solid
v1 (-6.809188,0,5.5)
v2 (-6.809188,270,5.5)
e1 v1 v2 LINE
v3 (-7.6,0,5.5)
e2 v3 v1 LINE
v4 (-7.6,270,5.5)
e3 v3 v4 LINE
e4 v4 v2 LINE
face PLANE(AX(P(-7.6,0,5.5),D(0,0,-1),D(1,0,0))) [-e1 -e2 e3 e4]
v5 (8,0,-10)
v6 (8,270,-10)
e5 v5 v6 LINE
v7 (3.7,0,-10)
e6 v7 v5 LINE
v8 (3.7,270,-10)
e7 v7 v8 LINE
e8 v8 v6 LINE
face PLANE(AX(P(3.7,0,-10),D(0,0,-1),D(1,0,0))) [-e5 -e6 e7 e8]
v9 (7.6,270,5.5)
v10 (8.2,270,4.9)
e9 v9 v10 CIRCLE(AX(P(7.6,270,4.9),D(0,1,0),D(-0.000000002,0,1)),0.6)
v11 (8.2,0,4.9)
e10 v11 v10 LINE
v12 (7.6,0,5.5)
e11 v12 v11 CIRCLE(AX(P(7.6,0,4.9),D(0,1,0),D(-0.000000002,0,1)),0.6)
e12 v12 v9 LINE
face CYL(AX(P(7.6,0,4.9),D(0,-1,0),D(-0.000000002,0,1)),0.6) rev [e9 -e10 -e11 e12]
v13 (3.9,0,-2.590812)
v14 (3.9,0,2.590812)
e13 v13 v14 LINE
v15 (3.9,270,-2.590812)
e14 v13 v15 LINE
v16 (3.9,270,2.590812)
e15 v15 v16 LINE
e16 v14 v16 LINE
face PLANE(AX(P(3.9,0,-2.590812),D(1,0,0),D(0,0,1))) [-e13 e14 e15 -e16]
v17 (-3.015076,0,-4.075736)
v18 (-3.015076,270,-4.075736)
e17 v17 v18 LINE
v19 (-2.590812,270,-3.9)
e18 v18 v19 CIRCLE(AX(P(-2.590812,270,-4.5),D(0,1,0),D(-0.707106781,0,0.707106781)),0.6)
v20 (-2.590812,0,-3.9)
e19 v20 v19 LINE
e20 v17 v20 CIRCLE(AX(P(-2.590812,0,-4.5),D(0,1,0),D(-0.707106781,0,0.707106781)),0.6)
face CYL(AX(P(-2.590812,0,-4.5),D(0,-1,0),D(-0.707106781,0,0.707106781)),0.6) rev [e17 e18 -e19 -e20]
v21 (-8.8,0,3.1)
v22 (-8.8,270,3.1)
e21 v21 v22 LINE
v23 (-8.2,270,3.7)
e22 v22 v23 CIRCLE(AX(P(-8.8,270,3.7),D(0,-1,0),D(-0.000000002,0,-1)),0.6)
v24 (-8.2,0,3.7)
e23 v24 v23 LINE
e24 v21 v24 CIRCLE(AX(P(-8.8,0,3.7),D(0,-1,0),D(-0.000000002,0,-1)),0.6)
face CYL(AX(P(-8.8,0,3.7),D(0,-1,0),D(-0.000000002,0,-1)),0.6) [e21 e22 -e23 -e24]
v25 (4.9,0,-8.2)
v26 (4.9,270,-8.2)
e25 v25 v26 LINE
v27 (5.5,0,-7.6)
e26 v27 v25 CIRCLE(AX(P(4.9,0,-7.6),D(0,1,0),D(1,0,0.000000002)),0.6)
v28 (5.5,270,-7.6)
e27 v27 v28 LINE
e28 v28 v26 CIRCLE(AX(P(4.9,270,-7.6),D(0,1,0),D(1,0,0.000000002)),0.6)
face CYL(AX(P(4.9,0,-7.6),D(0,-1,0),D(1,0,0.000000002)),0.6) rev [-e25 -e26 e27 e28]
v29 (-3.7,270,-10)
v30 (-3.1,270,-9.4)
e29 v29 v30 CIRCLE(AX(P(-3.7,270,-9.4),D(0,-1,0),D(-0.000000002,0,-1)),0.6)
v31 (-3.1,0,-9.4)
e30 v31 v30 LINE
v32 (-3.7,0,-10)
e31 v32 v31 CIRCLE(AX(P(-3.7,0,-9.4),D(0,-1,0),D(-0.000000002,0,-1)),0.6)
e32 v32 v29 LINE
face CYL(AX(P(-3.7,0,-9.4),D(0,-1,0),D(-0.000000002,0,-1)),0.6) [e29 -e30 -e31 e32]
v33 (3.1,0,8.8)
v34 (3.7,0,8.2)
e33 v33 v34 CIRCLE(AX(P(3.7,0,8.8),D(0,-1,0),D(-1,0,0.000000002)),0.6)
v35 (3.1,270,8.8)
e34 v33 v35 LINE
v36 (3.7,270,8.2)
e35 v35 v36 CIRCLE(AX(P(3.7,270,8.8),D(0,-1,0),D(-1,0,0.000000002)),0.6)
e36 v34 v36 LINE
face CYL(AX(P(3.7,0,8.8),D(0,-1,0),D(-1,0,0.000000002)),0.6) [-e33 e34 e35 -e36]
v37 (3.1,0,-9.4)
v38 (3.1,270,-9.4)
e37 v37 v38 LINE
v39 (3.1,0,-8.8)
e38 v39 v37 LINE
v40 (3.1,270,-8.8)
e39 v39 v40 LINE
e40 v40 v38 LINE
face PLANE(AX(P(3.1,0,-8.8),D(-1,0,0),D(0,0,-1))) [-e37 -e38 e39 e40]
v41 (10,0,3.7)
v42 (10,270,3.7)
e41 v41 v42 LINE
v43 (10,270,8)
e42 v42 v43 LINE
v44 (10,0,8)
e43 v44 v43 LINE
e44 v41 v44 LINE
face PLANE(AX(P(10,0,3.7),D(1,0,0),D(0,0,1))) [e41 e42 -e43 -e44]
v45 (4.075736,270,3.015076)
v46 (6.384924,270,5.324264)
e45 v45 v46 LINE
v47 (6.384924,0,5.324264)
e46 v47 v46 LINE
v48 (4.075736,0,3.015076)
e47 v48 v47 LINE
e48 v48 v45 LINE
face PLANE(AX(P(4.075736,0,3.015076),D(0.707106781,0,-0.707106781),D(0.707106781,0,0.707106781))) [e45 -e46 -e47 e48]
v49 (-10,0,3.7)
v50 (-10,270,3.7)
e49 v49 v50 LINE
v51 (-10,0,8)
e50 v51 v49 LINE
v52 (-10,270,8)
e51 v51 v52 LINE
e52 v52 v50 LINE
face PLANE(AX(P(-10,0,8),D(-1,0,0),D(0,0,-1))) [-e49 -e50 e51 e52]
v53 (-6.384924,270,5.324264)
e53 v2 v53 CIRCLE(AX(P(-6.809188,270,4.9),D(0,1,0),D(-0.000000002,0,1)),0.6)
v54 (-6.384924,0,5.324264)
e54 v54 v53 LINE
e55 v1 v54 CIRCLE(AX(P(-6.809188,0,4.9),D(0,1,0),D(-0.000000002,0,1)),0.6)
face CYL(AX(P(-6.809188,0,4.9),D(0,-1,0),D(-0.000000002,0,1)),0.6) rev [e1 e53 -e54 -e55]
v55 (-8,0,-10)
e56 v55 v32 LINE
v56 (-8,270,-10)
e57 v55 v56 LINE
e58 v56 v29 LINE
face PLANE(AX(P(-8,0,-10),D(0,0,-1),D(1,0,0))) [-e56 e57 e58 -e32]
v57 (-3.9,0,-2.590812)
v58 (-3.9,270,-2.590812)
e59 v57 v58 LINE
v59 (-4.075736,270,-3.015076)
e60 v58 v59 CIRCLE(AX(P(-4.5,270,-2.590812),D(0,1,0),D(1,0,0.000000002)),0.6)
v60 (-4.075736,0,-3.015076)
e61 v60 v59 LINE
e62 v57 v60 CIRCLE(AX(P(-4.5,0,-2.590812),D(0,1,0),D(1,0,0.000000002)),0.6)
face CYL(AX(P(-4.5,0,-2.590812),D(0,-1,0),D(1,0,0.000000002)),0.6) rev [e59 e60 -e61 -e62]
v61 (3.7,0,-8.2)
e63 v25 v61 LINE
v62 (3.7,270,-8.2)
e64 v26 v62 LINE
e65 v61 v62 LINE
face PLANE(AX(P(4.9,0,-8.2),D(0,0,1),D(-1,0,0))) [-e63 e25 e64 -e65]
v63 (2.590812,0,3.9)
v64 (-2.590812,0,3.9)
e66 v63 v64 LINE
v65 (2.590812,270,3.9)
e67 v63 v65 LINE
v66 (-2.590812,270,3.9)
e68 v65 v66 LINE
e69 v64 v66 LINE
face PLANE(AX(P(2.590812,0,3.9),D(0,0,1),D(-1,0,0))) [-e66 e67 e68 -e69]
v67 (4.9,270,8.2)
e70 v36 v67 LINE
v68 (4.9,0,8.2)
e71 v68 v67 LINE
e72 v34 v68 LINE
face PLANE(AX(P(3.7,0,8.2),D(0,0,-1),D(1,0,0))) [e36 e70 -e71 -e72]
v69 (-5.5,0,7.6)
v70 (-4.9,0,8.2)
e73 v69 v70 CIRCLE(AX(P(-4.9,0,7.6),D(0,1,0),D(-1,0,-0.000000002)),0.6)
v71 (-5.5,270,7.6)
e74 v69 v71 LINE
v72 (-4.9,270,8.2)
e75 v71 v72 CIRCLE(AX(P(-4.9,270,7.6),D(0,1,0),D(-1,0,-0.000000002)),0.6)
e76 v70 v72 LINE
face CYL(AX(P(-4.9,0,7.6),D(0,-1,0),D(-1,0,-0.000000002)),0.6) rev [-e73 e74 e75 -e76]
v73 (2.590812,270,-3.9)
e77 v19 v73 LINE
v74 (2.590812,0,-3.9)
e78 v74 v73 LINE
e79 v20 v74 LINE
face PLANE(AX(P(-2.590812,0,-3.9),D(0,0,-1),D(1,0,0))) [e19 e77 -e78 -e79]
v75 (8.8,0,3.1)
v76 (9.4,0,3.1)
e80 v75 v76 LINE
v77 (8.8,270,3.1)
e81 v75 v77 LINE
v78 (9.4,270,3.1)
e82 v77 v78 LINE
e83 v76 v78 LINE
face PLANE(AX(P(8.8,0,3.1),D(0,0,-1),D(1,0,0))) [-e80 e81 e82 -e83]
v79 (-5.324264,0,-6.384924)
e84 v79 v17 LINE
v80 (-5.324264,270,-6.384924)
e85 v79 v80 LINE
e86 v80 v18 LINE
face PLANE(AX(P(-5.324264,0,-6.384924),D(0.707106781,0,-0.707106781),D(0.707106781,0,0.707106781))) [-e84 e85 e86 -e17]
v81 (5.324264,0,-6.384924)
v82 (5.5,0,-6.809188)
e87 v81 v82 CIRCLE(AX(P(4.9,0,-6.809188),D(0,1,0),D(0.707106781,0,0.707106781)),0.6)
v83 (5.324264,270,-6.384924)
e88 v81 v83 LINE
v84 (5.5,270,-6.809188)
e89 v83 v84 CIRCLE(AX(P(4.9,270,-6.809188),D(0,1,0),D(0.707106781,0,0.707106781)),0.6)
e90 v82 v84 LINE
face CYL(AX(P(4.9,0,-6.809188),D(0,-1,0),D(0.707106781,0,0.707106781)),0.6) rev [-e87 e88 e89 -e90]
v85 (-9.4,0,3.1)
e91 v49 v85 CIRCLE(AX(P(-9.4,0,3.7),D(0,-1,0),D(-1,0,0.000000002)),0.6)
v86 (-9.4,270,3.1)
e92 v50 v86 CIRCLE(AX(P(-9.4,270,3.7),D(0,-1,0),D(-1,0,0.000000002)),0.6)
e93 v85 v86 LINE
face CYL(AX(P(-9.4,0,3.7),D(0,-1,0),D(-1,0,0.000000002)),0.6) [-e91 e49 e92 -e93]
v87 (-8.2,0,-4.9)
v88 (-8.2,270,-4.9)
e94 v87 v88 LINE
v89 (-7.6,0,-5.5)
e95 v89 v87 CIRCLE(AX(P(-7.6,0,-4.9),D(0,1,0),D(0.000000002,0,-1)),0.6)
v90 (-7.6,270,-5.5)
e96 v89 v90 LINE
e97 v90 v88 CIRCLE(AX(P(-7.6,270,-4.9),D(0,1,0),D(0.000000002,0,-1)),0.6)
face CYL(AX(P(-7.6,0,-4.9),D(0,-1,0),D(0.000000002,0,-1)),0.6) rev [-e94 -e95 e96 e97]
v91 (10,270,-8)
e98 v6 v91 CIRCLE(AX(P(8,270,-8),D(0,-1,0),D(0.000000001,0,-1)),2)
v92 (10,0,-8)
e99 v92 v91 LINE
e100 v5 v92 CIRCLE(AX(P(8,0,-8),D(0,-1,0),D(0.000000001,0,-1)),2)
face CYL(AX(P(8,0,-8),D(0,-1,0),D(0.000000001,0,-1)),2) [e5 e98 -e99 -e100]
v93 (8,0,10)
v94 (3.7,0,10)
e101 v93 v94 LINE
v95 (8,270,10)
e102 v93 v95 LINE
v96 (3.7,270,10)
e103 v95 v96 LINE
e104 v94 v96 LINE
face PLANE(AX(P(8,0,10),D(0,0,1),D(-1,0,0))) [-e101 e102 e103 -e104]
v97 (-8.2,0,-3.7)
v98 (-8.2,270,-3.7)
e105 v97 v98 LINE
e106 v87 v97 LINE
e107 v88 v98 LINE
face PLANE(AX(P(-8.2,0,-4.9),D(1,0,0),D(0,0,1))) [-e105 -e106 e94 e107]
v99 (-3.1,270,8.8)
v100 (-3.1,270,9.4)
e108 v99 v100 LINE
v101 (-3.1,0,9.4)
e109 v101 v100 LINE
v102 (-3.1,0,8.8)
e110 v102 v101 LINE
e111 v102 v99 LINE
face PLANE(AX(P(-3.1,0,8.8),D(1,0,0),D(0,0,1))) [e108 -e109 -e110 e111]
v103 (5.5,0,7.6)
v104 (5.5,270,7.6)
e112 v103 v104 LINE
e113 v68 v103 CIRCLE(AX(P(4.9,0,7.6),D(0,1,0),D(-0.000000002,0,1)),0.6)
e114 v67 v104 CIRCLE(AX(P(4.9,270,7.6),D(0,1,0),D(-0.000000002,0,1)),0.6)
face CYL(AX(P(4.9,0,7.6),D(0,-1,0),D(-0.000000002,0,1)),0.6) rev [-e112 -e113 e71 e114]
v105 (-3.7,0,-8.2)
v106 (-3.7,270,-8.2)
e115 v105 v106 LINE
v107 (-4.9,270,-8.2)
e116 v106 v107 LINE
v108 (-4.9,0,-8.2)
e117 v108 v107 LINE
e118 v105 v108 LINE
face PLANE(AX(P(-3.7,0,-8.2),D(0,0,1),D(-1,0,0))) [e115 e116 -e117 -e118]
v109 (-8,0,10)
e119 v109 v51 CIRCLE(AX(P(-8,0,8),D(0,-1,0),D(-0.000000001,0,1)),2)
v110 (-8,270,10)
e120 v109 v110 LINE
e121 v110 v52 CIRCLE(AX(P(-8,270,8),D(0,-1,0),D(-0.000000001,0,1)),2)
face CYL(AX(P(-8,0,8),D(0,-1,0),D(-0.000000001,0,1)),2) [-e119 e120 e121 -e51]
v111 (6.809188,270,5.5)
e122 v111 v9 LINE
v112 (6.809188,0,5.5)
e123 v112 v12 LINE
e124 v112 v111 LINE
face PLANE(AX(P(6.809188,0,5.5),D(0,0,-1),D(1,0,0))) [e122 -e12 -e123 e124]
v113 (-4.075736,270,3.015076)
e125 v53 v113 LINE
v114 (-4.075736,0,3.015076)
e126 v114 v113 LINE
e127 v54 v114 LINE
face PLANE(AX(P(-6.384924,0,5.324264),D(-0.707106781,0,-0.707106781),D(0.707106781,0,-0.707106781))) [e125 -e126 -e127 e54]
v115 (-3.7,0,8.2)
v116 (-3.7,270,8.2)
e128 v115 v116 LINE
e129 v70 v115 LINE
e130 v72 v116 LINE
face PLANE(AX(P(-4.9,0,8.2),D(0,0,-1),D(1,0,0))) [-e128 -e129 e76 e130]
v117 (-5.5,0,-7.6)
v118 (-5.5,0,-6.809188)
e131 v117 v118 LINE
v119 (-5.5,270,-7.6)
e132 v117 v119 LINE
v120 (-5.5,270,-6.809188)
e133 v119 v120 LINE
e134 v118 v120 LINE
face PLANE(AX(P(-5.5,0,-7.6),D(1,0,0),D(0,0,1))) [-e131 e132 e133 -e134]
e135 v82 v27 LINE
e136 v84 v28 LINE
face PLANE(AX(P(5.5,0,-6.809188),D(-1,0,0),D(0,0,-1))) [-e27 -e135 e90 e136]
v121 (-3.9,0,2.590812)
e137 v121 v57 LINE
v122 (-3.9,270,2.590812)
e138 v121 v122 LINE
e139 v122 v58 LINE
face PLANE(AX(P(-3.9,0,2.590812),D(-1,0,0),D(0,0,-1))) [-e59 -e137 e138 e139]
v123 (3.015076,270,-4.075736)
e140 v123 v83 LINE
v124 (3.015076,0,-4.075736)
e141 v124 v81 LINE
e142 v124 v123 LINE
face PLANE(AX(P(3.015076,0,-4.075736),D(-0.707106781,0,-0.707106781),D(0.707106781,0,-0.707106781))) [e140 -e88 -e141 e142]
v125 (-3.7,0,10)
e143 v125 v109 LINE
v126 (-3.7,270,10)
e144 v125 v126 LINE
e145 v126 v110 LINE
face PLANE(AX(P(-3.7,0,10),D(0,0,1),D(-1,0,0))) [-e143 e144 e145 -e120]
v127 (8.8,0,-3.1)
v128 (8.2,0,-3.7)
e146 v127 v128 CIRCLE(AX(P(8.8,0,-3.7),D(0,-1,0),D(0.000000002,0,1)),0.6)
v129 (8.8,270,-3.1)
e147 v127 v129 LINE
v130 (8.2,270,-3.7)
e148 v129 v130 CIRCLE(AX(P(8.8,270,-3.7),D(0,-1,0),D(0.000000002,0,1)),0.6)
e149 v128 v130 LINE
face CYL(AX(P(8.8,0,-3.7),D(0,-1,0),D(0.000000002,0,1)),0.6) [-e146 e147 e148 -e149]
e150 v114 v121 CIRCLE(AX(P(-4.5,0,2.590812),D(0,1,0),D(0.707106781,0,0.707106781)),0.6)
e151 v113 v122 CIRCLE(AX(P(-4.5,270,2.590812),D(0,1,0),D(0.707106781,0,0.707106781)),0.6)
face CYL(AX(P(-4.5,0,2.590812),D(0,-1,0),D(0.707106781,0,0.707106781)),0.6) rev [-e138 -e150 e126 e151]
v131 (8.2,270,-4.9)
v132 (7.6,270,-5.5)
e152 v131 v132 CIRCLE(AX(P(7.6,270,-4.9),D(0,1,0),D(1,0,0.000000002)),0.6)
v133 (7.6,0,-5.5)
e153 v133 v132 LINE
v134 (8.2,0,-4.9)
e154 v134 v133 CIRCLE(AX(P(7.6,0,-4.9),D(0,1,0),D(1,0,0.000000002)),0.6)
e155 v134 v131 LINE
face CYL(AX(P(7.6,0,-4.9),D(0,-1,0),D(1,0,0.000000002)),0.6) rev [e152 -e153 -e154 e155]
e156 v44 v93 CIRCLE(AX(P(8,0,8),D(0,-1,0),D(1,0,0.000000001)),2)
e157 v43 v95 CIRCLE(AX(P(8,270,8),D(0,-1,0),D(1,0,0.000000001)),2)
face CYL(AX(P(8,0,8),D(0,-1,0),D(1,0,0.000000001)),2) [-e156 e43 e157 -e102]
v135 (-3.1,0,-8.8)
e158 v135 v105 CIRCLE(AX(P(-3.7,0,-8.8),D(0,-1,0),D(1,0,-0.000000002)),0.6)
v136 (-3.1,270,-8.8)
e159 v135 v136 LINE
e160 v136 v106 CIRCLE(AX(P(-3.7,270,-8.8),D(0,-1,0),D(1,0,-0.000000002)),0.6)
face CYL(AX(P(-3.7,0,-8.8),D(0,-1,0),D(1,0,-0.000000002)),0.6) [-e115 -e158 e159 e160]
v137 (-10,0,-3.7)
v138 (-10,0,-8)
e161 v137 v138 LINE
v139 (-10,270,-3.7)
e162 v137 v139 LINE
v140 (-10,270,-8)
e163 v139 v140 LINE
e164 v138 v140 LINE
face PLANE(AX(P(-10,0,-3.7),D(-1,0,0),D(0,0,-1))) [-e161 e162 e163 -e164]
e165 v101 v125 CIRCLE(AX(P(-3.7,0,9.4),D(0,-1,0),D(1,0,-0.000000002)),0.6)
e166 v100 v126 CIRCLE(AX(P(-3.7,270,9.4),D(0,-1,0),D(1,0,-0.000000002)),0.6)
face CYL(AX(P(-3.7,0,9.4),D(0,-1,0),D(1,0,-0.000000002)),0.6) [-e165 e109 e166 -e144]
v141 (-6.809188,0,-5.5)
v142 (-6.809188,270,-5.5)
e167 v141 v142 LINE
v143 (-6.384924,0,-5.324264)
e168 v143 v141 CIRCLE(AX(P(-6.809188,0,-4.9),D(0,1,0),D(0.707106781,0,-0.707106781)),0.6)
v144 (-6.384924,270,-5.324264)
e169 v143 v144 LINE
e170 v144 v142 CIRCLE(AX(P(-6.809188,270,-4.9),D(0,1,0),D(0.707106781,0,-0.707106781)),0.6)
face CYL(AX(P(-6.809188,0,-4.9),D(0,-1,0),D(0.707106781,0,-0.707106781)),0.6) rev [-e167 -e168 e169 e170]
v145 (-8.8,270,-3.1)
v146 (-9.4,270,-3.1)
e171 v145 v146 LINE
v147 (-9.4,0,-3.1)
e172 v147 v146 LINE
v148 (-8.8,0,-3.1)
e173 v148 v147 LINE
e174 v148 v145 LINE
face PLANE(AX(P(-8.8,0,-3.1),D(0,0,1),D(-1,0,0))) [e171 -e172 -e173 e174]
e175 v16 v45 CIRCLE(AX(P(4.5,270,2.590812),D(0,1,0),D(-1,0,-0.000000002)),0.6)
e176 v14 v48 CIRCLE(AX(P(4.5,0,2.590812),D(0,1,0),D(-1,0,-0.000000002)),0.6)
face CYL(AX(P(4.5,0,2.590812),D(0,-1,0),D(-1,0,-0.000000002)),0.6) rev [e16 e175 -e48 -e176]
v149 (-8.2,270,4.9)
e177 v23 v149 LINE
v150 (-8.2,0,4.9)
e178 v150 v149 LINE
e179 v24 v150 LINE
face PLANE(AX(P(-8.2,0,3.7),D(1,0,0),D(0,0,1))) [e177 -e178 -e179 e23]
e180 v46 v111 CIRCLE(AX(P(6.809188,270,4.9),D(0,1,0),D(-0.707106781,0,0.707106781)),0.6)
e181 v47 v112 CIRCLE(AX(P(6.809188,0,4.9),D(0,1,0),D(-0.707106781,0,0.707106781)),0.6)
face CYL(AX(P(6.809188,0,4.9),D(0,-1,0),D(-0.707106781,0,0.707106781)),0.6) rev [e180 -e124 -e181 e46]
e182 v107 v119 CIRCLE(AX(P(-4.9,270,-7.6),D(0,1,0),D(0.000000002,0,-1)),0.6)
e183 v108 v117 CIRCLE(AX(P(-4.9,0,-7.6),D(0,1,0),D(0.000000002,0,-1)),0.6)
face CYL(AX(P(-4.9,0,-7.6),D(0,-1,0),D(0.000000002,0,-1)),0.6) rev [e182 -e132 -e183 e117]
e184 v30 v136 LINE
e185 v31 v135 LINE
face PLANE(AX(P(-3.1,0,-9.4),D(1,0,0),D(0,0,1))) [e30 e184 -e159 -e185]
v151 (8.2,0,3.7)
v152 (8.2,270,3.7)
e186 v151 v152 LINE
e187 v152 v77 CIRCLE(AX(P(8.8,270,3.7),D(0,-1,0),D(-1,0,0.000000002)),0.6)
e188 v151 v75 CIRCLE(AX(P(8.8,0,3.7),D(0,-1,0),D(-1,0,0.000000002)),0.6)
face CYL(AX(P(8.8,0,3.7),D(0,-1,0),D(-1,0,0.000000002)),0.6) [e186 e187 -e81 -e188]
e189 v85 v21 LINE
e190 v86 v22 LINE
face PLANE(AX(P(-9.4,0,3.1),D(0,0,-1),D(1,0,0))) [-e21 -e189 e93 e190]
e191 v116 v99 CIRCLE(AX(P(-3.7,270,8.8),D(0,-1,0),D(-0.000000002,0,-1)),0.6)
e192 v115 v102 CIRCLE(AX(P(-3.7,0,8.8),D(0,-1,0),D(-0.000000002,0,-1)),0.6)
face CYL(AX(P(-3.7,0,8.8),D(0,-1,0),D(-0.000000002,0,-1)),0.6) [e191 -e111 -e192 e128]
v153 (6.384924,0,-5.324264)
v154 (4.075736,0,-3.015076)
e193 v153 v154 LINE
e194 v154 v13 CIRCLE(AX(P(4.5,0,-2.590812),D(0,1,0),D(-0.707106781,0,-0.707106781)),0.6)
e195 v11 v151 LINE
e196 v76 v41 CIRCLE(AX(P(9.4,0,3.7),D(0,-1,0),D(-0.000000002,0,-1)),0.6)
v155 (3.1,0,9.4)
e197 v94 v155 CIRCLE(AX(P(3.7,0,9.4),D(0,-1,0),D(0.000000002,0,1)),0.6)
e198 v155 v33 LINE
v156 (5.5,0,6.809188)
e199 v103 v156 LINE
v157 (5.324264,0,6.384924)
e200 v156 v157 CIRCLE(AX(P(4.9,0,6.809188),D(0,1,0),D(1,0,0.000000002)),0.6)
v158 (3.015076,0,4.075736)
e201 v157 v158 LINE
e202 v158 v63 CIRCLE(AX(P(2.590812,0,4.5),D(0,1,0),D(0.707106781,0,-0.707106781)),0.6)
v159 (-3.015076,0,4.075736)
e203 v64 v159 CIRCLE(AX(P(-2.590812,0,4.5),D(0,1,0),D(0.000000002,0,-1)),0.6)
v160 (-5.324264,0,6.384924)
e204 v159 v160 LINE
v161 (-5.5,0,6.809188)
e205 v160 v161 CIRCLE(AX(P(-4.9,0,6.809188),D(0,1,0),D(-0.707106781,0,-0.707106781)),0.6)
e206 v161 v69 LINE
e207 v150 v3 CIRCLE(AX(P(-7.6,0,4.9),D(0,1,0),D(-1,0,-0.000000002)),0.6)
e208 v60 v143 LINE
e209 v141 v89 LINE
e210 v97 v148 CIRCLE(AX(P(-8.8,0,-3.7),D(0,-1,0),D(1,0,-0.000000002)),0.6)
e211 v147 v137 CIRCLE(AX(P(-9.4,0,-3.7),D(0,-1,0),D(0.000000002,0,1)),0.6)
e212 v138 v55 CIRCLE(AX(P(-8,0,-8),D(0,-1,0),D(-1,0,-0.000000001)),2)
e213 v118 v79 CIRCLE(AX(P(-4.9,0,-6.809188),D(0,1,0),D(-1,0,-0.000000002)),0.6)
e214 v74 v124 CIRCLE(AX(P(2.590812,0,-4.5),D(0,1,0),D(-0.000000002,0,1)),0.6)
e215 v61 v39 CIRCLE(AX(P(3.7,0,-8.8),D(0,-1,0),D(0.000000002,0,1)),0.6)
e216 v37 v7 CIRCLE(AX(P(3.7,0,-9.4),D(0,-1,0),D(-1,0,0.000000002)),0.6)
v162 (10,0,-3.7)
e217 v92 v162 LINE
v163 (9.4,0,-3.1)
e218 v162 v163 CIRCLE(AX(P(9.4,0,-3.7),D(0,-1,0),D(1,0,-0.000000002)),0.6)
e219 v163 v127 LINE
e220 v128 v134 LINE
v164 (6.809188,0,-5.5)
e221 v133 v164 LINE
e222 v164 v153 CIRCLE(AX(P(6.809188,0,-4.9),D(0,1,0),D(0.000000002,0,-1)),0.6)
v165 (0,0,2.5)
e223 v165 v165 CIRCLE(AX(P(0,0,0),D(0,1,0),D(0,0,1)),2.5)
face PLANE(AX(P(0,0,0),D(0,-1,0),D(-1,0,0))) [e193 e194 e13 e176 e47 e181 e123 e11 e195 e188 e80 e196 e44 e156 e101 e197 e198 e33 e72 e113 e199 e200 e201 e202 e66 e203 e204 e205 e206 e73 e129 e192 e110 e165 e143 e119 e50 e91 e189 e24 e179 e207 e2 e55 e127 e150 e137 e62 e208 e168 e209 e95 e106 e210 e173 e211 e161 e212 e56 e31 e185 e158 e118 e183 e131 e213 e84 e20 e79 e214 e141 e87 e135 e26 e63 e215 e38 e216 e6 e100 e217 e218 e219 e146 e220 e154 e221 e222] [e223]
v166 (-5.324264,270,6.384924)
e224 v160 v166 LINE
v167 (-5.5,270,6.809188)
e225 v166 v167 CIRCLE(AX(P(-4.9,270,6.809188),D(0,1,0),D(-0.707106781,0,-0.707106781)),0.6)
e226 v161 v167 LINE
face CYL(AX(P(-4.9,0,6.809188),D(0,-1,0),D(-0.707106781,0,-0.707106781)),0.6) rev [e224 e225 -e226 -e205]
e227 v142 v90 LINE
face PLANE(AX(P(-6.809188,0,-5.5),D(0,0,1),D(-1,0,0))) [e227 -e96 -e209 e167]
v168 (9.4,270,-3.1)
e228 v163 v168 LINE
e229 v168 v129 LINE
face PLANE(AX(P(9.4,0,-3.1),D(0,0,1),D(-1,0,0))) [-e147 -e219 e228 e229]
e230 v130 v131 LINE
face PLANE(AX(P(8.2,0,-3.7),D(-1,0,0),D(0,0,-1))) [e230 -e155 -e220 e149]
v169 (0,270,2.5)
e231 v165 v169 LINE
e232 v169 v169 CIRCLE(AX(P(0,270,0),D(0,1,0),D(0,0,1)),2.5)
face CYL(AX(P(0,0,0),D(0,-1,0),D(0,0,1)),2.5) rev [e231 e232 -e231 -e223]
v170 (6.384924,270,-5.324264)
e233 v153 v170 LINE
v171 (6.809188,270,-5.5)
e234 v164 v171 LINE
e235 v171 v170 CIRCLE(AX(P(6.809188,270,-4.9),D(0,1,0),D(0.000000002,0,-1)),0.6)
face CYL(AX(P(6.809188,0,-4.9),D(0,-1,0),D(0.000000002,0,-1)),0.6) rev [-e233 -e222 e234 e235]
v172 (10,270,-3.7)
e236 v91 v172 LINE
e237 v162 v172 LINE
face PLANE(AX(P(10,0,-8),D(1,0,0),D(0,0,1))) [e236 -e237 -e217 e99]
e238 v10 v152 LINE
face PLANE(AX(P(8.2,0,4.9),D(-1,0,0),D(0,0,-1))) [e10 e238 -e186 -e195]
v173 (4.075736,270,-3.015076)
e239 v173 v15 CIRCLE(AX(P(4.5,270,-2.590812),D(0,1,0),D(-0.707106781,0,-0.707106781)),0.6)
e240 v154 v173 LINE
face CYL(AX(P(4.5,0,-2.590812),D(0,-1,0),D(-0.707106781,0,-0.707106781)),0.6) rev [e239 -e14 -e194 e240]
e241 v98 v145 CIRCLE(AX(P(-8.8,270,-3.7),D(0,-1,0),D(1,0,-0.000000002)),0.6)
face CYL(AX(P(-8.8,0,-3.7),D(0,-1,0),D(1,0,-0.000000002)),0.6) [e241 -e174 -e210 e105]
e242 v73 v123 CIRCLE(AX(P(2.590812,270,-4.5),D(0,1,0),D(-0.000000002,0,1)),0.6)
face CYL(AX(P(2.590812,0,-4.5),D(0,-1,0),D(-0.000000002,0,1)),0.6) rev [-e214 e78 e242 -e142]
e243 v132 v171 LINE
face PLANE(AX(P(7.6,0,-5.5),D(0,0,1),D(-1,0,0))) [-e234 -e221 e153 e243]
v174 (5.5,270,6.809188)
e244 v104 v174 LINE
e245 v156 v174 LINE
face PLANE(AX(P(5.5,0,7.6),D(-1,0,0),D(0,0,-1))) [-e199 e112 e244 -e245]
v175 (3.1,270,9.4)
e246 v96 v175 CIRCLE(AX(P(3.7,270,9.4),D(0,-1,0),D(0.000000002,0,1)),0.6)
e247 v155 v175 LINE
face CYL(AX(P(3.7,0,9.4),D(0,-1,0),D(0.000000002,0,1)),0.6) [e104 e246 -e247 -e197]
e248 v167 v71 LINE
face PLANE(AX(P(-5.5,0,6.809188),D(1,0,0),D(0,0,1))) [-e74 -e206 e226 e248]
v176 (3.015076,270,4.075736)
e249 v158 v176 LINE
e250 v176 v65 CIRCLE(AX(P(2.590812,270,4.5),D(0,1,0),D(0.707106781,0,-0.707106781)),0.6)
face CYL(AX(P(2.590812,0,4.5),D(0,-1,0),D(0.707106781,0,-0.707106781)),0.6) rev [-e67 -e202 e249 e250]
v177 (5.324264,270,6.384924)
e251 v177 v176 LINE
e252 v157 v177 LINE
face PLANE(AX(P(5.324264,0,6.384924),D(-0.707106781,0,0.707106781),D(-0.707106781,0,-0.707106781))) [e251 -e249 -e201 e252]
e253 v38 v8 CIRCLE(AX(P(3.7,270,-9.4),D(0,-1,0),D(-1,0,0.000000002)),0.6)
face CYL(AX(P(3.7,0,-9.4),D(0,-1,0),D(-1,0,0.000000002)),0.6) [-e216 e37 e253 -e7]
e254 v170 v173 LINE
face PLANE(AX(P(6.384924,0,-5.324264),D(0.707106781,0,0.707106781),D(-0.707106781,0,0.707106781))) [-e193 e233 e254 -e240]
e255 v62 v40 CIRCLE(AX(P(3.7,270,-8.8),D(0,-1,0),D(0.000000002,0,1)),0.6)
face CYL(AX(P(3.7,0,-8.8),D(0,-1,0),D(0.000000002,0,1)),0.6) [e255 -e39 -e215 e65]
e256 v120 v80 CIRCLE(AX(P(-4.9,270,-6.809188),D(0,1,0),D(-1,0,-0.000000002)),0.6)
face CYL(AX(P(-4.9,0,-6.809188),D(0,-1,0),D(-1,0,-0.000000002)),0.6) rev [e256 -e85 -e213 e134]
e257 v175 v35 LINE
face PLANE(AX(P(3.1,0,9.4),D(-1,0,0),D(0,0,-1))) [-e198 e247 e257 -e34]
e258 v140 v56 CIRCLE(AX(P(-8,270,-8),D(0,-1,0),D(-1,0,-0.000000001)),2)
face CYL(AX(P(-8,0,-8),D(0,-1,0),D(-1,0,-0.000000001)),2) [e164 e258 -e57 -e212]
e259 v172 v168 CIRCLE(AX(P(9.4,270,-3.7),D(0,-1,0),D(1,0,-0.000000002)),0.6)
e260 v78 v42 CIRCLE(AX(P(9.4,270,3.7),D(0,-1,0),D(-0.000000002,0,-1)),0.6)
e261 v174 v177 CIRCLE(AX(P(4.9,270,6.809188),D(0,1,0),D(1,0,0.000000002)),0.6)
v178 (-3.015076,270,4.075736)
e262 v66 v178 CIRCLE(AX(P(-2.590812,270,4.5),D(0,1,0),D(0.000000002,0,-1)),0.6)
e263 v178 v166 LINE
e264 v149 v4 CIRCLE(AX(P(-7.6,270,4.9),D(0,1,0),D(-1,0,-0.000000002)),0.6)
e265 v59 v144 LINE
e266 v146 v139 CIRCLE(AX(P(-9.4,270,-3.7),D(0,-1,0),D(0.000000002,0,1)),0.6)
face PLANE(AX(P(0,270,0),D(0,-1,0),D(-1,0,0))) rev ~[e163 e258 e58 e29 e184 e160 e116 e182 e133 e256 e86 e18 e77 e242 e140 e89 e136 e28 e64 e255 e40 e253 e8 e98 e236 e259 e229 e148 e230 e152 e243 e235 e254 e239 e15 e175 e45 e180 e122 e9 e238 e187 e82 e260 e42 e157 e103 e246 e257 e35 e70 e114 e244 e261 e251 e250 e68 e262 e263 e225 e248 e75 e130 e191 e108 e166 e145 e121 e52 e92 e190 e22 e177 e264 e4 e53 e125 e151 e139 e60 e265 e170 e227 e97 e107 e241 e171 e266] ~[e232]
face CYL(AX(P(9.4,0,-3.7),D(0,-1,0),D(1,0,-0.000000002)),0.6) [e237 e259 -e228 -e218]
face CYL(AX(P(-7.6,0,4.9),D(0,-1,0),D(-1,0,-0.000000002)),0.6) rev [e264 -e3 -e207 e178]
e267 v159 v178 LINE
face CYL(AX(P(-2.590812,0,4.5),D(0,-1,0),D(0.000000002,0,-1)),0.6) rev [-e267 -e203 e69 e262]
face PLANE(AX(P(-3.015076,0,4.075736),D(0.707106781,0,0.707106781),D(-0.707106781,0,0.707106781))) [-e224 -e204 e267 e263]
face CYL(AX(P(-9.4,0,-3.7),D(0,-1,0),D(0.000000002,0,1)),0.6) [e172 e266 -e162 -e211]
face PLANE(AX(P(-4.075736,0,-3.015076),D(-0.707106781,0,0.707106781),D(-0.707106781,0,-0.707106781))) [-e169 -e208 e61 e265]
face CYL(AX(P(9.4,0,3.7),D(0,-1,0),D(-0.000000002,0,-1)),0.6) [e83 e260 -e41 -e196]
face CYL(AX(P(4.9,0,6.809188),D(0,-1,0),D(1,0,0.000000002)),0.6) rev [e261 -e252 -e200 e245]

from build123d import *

# Parameters (mm, degrees)
SKETCH_1_R      = 2.5
EXTRUDE_1_DEPTH = 270


with BuildPart() as part:
    # 草图1 → 凸台-拉伸1 (new body)
    with BuildSketch(Plane(origin=(0, 0, 0), x_dir=(1, 0, 0), z_dir=(0, 1, 0))):
        with BuildLine():
            Line((3.1, 8.8), (3.1, 9.4))
            ThreePointArc((3.1, 9.4), (3.275735931, 9.824264069), (3.7, 10))
            Line((3.7, 10), (8, 10))
            ThreePointArc((8, 10), (9.414213562, 9.414213562), (10, 8))
            Line((10, 8), (10, 3.7))
            ThreePointArc((10, 3.7), (9.824264069, 3.275735931), (9.4, 3.1))
            Line((9.4, 3.1), (8.8, 3.1))
            ThreePointArc((8.8, 3.1), (8.375735931, 3.275735931), (8.2, 3.7))
            Line((8.2, 3.7), (8.2, 4.9))
            ThreePointArc((8.2, 4.9), (8.024264069, 5.324264069), (7.6, 5.5))
            Line((7.6, 5.5), (6.809188309, 5.5))
            ThreePointArc((6.809188309, 5.5), (6.57957825, 5.45432772), (6.38492424, 5.324264069))
            Line((6.38492424, 5.324264069), (4.075735931, 3.01507576))
            ThreePointArc((4.075735931, 3.01507576), (3.94567228, 2.82042175), (3.9, 2.590811691))
            Line((3.9, 2.590811691), (3.9, 0))
            Line((3.9, 0), (3.9, -2.590811691))
            ThreePointArc((3.9, -2.590811691), (3.94567228, -2.82042175), (4.075735931, -3.01507576))
            Line((4.075735931, -3.01507576), (6.38492424, -5.324264069))
            ThreePointArc((6.38492424, -5.324264069), (6.57957825, -5.45432772), (6.809188309, -5.5))
            Line((6.809188309, -5.5), (7.6, -5.5))
            ThreePointArc((7.6, -5.5), (8.024264069, -5.324264069), (8.2, -4.9))
            Line((8.2, -4.9), (8.2, -3.7))
            ThreePointArc((8.2, -3.7), (8.375735931, -3.275735931), (8.8, -3.1))
            Line((8.8, -3.1), (9.4, -3.1))
            ThreePointArc((9.4, -3.1), (9.824264069, -3.275735931), (10, -3.7))
            Line((10, -3.7), (10, -8))
            ThreePointArc((10, -8), (9.414213562, -9.414213562), (8, -10))
            Line((8, -10), (3.7, -10))
            ThreePointArc((3.7, -10), (3.275735931, -9.824264069), (3.1, -9.4))
            Line((3.1, -9.4), (3.1, -8.8))
            ThreePointArc((3.1, -8.8), (3.275735931, -8.375735931), (3.7, -8.2))
            Line((3.7, -8.2), (4.9, -8.2))
            ThreePointArc((4.9, -8.2), (5.324264069, -8.024264069), (5.5, -7.6))
            Line((5.5, -7.6), (5.5, -6.809188309))
            ThreePointArc((5.5, -6.809188309), (5.45432772, -6.57957825), (5.324264069, -6.38492424))
            Line((5.324264069, -6.38492424), (3.01507576, -4.075735931))
            ThreePointArc((3.01507576, -4.075735931), (2.82042175, -3.94567228), (2.590811691, -3.9))
            Line((2.590811691, -3.9), (0, -3.9))
            Line((0, -3.9), (-2.590811691, -3.9))
            ThreePointArc((-2.590811691, -3.9), (-2.82042175, -3.94567228), (-3.01507576, -4.075735931))
            Line((-3.01507576, -4.075735931), (-5.324264069, -6.38492424))
            ThreePointArc((-5.324264069, -6.38492424), (-5.45432772, -6.57957825), (-5.5, -6.809188309))
            Line((-5.5, -6.809188309), (-5.5, -7.6))
            ThreePointArc((-5.5, -7.6), (-5.324264069, -8.024264069), (-4.9, -8.2))
            Line((-4.9, -8.2), (-3.7, -8.2))
            ThreePointArc((-3.7, -8.2), (-3.275735931, -8.375735931), (-3.1, -8.8))
            Line((-3.1, -8.8), (-3.1, -9.4))
            ThreePointArc((-3.1, -9.4), (-3.275735931, -9.824264069), (-3.7, -10))
            Line((-3.7, -10), (-8, -10))
            ThreePointArc((-8, -10), (-9.414213562, -9.414213562), (-10, -8))
            Line((-10, -8), (-10, -3.7))
            ThreePointArc((-10, -3.7), (-9.824264069, -3.275735931), (-9.4, -3.1))
            Line((-9.4, -3.1), (-8.8, -3.1))
            ThreePointArc((-8.8, -3.1), (-8.375735931, -3.275735931), (-8.2, -3.7))
            Line((-8.2, -3.7), (-8.2, -4.9))
            ThreePointArc((-8.2, -4.9), (-8.024264069, -5.324264069), (-7.6, -5.5))
            Line((-7.6, -5.5), (-6.809188309, -5.5))
            ThreePointArc((-6.809188309, -5.5), (-6.57957825, -5.45432772), (-6.38492424, -5.324264069))
            Line((-6.38492424, -5.324264069), (-4.075735931, -3.01507576))
            ThreePointArc((-4.075735931, -3.01507576), (-3.94567228, -2.82042175), (-3.9, -2.590811691))
            Line((-3.9, -2.590811691), (-3.9, 0))
            Line((-3.9, 0), (-3.9, 2.590811691))
            ThreePointArc((-3.9, 2.590811691), (-3.94567228, 2.82042175), (-4.075735931, 3.01507576))
            Line((-4.075735931, 3.01507576), (-6.38492424, 5.324264069))
            ThreePointArc((-6.38492424, 5.324264069), (-6.57957825, 5.45432772), (-6.809188309, 5.5))
            Line((-6.809188309, 5.5), (-7.6, 5.5))
            ThreePointArc((-7.6, 5.5), (-8.024264069, 5.324264069), (-8.2, 4.9))
            Line((-8.2, 4.9), (-8.2, 3.7))
            ThreePointArc((-8.2, 3.7), (-8.375735931, 3.275735931), (-8.8, 3.1))
            Line((-8.8, 3.1), (-9.4, 3.1))
            ThreePointArc((-9.4, 3.1), (-9.824264069, 3.275735931), (-10, 3.7))
            Line((-10, 3.7), (-10, 8))
            ThreePointArc((-10, 8), (-9.414213562, 9.414213562), (-8, 10))
            Line((-8, 10), (-3.7, 10))
            ThreePointArc((-3.7, 10), (-3.275735931, 9.824264069), (-3.1, 9.4))
            Line((-3.1, 9.4), (-3.1, 8.8))
            ThreePointArc((-3.1, 8.8), (-3.275735931, 8.375735931), (-3.7, 8.2))
            Line((-3.7, 8.2), (-4.9, 8.2))
            ThreePointArc((-4.9, 8.2), (-5.324264069, 8.024264069), (-5.5, 7.6))
            Line((-5.5, 7.6), (-5.5, 6.809188309))
            ThreePointArc((-5.5, 6.809188309), (-5.45432772, 6.57957825), (-5.324264069, 6.38492424))
            Line((-5.324264069, 6.38492424), (-3.01507576, 4.075735931))
            ThreePointArc((-3.01507576, 4.075735931), (-2.82042175, 3.94567228), (-2.590811691, 3.9))
            Line((-2.590811691, 3.9), (0, 3.9))
            Line((0, 3.9), (2.590811691, 3.9))
            ThreePointArc((2.590811691, 3.9), (2.82042175, 3.94567228), (3.01507576, 4.075735931))
            Line((3.01507576, 4.075735931), (5.324264069, 6.38492424))
            ThreePointArc((5.324264069, 6.38492424), (5.45432772, 6.57957825), (5.5, 6.809188309))
            Line((5.5, 6.809188309), (5.5, 7.6))
            ThreePointArc((5.5, 7.6), (5.324264069, 8.024264069), (4.9, 8.2))
            Line((4.9, 8.2), (3.7, 8.2))
            ThreePointArc((3.7, 8.2), (3.275735931, 8.375735931), (3.1, 8.8))
        make_face()
        with Locations(Location((0, 0, 0), (0, 0, 270))):
            Circle(SKETCH_1_R, mode=Mode.SUBTRACT)
    extrude(amount=EXTRUDE_1_DEPTH)


solid = part.part
